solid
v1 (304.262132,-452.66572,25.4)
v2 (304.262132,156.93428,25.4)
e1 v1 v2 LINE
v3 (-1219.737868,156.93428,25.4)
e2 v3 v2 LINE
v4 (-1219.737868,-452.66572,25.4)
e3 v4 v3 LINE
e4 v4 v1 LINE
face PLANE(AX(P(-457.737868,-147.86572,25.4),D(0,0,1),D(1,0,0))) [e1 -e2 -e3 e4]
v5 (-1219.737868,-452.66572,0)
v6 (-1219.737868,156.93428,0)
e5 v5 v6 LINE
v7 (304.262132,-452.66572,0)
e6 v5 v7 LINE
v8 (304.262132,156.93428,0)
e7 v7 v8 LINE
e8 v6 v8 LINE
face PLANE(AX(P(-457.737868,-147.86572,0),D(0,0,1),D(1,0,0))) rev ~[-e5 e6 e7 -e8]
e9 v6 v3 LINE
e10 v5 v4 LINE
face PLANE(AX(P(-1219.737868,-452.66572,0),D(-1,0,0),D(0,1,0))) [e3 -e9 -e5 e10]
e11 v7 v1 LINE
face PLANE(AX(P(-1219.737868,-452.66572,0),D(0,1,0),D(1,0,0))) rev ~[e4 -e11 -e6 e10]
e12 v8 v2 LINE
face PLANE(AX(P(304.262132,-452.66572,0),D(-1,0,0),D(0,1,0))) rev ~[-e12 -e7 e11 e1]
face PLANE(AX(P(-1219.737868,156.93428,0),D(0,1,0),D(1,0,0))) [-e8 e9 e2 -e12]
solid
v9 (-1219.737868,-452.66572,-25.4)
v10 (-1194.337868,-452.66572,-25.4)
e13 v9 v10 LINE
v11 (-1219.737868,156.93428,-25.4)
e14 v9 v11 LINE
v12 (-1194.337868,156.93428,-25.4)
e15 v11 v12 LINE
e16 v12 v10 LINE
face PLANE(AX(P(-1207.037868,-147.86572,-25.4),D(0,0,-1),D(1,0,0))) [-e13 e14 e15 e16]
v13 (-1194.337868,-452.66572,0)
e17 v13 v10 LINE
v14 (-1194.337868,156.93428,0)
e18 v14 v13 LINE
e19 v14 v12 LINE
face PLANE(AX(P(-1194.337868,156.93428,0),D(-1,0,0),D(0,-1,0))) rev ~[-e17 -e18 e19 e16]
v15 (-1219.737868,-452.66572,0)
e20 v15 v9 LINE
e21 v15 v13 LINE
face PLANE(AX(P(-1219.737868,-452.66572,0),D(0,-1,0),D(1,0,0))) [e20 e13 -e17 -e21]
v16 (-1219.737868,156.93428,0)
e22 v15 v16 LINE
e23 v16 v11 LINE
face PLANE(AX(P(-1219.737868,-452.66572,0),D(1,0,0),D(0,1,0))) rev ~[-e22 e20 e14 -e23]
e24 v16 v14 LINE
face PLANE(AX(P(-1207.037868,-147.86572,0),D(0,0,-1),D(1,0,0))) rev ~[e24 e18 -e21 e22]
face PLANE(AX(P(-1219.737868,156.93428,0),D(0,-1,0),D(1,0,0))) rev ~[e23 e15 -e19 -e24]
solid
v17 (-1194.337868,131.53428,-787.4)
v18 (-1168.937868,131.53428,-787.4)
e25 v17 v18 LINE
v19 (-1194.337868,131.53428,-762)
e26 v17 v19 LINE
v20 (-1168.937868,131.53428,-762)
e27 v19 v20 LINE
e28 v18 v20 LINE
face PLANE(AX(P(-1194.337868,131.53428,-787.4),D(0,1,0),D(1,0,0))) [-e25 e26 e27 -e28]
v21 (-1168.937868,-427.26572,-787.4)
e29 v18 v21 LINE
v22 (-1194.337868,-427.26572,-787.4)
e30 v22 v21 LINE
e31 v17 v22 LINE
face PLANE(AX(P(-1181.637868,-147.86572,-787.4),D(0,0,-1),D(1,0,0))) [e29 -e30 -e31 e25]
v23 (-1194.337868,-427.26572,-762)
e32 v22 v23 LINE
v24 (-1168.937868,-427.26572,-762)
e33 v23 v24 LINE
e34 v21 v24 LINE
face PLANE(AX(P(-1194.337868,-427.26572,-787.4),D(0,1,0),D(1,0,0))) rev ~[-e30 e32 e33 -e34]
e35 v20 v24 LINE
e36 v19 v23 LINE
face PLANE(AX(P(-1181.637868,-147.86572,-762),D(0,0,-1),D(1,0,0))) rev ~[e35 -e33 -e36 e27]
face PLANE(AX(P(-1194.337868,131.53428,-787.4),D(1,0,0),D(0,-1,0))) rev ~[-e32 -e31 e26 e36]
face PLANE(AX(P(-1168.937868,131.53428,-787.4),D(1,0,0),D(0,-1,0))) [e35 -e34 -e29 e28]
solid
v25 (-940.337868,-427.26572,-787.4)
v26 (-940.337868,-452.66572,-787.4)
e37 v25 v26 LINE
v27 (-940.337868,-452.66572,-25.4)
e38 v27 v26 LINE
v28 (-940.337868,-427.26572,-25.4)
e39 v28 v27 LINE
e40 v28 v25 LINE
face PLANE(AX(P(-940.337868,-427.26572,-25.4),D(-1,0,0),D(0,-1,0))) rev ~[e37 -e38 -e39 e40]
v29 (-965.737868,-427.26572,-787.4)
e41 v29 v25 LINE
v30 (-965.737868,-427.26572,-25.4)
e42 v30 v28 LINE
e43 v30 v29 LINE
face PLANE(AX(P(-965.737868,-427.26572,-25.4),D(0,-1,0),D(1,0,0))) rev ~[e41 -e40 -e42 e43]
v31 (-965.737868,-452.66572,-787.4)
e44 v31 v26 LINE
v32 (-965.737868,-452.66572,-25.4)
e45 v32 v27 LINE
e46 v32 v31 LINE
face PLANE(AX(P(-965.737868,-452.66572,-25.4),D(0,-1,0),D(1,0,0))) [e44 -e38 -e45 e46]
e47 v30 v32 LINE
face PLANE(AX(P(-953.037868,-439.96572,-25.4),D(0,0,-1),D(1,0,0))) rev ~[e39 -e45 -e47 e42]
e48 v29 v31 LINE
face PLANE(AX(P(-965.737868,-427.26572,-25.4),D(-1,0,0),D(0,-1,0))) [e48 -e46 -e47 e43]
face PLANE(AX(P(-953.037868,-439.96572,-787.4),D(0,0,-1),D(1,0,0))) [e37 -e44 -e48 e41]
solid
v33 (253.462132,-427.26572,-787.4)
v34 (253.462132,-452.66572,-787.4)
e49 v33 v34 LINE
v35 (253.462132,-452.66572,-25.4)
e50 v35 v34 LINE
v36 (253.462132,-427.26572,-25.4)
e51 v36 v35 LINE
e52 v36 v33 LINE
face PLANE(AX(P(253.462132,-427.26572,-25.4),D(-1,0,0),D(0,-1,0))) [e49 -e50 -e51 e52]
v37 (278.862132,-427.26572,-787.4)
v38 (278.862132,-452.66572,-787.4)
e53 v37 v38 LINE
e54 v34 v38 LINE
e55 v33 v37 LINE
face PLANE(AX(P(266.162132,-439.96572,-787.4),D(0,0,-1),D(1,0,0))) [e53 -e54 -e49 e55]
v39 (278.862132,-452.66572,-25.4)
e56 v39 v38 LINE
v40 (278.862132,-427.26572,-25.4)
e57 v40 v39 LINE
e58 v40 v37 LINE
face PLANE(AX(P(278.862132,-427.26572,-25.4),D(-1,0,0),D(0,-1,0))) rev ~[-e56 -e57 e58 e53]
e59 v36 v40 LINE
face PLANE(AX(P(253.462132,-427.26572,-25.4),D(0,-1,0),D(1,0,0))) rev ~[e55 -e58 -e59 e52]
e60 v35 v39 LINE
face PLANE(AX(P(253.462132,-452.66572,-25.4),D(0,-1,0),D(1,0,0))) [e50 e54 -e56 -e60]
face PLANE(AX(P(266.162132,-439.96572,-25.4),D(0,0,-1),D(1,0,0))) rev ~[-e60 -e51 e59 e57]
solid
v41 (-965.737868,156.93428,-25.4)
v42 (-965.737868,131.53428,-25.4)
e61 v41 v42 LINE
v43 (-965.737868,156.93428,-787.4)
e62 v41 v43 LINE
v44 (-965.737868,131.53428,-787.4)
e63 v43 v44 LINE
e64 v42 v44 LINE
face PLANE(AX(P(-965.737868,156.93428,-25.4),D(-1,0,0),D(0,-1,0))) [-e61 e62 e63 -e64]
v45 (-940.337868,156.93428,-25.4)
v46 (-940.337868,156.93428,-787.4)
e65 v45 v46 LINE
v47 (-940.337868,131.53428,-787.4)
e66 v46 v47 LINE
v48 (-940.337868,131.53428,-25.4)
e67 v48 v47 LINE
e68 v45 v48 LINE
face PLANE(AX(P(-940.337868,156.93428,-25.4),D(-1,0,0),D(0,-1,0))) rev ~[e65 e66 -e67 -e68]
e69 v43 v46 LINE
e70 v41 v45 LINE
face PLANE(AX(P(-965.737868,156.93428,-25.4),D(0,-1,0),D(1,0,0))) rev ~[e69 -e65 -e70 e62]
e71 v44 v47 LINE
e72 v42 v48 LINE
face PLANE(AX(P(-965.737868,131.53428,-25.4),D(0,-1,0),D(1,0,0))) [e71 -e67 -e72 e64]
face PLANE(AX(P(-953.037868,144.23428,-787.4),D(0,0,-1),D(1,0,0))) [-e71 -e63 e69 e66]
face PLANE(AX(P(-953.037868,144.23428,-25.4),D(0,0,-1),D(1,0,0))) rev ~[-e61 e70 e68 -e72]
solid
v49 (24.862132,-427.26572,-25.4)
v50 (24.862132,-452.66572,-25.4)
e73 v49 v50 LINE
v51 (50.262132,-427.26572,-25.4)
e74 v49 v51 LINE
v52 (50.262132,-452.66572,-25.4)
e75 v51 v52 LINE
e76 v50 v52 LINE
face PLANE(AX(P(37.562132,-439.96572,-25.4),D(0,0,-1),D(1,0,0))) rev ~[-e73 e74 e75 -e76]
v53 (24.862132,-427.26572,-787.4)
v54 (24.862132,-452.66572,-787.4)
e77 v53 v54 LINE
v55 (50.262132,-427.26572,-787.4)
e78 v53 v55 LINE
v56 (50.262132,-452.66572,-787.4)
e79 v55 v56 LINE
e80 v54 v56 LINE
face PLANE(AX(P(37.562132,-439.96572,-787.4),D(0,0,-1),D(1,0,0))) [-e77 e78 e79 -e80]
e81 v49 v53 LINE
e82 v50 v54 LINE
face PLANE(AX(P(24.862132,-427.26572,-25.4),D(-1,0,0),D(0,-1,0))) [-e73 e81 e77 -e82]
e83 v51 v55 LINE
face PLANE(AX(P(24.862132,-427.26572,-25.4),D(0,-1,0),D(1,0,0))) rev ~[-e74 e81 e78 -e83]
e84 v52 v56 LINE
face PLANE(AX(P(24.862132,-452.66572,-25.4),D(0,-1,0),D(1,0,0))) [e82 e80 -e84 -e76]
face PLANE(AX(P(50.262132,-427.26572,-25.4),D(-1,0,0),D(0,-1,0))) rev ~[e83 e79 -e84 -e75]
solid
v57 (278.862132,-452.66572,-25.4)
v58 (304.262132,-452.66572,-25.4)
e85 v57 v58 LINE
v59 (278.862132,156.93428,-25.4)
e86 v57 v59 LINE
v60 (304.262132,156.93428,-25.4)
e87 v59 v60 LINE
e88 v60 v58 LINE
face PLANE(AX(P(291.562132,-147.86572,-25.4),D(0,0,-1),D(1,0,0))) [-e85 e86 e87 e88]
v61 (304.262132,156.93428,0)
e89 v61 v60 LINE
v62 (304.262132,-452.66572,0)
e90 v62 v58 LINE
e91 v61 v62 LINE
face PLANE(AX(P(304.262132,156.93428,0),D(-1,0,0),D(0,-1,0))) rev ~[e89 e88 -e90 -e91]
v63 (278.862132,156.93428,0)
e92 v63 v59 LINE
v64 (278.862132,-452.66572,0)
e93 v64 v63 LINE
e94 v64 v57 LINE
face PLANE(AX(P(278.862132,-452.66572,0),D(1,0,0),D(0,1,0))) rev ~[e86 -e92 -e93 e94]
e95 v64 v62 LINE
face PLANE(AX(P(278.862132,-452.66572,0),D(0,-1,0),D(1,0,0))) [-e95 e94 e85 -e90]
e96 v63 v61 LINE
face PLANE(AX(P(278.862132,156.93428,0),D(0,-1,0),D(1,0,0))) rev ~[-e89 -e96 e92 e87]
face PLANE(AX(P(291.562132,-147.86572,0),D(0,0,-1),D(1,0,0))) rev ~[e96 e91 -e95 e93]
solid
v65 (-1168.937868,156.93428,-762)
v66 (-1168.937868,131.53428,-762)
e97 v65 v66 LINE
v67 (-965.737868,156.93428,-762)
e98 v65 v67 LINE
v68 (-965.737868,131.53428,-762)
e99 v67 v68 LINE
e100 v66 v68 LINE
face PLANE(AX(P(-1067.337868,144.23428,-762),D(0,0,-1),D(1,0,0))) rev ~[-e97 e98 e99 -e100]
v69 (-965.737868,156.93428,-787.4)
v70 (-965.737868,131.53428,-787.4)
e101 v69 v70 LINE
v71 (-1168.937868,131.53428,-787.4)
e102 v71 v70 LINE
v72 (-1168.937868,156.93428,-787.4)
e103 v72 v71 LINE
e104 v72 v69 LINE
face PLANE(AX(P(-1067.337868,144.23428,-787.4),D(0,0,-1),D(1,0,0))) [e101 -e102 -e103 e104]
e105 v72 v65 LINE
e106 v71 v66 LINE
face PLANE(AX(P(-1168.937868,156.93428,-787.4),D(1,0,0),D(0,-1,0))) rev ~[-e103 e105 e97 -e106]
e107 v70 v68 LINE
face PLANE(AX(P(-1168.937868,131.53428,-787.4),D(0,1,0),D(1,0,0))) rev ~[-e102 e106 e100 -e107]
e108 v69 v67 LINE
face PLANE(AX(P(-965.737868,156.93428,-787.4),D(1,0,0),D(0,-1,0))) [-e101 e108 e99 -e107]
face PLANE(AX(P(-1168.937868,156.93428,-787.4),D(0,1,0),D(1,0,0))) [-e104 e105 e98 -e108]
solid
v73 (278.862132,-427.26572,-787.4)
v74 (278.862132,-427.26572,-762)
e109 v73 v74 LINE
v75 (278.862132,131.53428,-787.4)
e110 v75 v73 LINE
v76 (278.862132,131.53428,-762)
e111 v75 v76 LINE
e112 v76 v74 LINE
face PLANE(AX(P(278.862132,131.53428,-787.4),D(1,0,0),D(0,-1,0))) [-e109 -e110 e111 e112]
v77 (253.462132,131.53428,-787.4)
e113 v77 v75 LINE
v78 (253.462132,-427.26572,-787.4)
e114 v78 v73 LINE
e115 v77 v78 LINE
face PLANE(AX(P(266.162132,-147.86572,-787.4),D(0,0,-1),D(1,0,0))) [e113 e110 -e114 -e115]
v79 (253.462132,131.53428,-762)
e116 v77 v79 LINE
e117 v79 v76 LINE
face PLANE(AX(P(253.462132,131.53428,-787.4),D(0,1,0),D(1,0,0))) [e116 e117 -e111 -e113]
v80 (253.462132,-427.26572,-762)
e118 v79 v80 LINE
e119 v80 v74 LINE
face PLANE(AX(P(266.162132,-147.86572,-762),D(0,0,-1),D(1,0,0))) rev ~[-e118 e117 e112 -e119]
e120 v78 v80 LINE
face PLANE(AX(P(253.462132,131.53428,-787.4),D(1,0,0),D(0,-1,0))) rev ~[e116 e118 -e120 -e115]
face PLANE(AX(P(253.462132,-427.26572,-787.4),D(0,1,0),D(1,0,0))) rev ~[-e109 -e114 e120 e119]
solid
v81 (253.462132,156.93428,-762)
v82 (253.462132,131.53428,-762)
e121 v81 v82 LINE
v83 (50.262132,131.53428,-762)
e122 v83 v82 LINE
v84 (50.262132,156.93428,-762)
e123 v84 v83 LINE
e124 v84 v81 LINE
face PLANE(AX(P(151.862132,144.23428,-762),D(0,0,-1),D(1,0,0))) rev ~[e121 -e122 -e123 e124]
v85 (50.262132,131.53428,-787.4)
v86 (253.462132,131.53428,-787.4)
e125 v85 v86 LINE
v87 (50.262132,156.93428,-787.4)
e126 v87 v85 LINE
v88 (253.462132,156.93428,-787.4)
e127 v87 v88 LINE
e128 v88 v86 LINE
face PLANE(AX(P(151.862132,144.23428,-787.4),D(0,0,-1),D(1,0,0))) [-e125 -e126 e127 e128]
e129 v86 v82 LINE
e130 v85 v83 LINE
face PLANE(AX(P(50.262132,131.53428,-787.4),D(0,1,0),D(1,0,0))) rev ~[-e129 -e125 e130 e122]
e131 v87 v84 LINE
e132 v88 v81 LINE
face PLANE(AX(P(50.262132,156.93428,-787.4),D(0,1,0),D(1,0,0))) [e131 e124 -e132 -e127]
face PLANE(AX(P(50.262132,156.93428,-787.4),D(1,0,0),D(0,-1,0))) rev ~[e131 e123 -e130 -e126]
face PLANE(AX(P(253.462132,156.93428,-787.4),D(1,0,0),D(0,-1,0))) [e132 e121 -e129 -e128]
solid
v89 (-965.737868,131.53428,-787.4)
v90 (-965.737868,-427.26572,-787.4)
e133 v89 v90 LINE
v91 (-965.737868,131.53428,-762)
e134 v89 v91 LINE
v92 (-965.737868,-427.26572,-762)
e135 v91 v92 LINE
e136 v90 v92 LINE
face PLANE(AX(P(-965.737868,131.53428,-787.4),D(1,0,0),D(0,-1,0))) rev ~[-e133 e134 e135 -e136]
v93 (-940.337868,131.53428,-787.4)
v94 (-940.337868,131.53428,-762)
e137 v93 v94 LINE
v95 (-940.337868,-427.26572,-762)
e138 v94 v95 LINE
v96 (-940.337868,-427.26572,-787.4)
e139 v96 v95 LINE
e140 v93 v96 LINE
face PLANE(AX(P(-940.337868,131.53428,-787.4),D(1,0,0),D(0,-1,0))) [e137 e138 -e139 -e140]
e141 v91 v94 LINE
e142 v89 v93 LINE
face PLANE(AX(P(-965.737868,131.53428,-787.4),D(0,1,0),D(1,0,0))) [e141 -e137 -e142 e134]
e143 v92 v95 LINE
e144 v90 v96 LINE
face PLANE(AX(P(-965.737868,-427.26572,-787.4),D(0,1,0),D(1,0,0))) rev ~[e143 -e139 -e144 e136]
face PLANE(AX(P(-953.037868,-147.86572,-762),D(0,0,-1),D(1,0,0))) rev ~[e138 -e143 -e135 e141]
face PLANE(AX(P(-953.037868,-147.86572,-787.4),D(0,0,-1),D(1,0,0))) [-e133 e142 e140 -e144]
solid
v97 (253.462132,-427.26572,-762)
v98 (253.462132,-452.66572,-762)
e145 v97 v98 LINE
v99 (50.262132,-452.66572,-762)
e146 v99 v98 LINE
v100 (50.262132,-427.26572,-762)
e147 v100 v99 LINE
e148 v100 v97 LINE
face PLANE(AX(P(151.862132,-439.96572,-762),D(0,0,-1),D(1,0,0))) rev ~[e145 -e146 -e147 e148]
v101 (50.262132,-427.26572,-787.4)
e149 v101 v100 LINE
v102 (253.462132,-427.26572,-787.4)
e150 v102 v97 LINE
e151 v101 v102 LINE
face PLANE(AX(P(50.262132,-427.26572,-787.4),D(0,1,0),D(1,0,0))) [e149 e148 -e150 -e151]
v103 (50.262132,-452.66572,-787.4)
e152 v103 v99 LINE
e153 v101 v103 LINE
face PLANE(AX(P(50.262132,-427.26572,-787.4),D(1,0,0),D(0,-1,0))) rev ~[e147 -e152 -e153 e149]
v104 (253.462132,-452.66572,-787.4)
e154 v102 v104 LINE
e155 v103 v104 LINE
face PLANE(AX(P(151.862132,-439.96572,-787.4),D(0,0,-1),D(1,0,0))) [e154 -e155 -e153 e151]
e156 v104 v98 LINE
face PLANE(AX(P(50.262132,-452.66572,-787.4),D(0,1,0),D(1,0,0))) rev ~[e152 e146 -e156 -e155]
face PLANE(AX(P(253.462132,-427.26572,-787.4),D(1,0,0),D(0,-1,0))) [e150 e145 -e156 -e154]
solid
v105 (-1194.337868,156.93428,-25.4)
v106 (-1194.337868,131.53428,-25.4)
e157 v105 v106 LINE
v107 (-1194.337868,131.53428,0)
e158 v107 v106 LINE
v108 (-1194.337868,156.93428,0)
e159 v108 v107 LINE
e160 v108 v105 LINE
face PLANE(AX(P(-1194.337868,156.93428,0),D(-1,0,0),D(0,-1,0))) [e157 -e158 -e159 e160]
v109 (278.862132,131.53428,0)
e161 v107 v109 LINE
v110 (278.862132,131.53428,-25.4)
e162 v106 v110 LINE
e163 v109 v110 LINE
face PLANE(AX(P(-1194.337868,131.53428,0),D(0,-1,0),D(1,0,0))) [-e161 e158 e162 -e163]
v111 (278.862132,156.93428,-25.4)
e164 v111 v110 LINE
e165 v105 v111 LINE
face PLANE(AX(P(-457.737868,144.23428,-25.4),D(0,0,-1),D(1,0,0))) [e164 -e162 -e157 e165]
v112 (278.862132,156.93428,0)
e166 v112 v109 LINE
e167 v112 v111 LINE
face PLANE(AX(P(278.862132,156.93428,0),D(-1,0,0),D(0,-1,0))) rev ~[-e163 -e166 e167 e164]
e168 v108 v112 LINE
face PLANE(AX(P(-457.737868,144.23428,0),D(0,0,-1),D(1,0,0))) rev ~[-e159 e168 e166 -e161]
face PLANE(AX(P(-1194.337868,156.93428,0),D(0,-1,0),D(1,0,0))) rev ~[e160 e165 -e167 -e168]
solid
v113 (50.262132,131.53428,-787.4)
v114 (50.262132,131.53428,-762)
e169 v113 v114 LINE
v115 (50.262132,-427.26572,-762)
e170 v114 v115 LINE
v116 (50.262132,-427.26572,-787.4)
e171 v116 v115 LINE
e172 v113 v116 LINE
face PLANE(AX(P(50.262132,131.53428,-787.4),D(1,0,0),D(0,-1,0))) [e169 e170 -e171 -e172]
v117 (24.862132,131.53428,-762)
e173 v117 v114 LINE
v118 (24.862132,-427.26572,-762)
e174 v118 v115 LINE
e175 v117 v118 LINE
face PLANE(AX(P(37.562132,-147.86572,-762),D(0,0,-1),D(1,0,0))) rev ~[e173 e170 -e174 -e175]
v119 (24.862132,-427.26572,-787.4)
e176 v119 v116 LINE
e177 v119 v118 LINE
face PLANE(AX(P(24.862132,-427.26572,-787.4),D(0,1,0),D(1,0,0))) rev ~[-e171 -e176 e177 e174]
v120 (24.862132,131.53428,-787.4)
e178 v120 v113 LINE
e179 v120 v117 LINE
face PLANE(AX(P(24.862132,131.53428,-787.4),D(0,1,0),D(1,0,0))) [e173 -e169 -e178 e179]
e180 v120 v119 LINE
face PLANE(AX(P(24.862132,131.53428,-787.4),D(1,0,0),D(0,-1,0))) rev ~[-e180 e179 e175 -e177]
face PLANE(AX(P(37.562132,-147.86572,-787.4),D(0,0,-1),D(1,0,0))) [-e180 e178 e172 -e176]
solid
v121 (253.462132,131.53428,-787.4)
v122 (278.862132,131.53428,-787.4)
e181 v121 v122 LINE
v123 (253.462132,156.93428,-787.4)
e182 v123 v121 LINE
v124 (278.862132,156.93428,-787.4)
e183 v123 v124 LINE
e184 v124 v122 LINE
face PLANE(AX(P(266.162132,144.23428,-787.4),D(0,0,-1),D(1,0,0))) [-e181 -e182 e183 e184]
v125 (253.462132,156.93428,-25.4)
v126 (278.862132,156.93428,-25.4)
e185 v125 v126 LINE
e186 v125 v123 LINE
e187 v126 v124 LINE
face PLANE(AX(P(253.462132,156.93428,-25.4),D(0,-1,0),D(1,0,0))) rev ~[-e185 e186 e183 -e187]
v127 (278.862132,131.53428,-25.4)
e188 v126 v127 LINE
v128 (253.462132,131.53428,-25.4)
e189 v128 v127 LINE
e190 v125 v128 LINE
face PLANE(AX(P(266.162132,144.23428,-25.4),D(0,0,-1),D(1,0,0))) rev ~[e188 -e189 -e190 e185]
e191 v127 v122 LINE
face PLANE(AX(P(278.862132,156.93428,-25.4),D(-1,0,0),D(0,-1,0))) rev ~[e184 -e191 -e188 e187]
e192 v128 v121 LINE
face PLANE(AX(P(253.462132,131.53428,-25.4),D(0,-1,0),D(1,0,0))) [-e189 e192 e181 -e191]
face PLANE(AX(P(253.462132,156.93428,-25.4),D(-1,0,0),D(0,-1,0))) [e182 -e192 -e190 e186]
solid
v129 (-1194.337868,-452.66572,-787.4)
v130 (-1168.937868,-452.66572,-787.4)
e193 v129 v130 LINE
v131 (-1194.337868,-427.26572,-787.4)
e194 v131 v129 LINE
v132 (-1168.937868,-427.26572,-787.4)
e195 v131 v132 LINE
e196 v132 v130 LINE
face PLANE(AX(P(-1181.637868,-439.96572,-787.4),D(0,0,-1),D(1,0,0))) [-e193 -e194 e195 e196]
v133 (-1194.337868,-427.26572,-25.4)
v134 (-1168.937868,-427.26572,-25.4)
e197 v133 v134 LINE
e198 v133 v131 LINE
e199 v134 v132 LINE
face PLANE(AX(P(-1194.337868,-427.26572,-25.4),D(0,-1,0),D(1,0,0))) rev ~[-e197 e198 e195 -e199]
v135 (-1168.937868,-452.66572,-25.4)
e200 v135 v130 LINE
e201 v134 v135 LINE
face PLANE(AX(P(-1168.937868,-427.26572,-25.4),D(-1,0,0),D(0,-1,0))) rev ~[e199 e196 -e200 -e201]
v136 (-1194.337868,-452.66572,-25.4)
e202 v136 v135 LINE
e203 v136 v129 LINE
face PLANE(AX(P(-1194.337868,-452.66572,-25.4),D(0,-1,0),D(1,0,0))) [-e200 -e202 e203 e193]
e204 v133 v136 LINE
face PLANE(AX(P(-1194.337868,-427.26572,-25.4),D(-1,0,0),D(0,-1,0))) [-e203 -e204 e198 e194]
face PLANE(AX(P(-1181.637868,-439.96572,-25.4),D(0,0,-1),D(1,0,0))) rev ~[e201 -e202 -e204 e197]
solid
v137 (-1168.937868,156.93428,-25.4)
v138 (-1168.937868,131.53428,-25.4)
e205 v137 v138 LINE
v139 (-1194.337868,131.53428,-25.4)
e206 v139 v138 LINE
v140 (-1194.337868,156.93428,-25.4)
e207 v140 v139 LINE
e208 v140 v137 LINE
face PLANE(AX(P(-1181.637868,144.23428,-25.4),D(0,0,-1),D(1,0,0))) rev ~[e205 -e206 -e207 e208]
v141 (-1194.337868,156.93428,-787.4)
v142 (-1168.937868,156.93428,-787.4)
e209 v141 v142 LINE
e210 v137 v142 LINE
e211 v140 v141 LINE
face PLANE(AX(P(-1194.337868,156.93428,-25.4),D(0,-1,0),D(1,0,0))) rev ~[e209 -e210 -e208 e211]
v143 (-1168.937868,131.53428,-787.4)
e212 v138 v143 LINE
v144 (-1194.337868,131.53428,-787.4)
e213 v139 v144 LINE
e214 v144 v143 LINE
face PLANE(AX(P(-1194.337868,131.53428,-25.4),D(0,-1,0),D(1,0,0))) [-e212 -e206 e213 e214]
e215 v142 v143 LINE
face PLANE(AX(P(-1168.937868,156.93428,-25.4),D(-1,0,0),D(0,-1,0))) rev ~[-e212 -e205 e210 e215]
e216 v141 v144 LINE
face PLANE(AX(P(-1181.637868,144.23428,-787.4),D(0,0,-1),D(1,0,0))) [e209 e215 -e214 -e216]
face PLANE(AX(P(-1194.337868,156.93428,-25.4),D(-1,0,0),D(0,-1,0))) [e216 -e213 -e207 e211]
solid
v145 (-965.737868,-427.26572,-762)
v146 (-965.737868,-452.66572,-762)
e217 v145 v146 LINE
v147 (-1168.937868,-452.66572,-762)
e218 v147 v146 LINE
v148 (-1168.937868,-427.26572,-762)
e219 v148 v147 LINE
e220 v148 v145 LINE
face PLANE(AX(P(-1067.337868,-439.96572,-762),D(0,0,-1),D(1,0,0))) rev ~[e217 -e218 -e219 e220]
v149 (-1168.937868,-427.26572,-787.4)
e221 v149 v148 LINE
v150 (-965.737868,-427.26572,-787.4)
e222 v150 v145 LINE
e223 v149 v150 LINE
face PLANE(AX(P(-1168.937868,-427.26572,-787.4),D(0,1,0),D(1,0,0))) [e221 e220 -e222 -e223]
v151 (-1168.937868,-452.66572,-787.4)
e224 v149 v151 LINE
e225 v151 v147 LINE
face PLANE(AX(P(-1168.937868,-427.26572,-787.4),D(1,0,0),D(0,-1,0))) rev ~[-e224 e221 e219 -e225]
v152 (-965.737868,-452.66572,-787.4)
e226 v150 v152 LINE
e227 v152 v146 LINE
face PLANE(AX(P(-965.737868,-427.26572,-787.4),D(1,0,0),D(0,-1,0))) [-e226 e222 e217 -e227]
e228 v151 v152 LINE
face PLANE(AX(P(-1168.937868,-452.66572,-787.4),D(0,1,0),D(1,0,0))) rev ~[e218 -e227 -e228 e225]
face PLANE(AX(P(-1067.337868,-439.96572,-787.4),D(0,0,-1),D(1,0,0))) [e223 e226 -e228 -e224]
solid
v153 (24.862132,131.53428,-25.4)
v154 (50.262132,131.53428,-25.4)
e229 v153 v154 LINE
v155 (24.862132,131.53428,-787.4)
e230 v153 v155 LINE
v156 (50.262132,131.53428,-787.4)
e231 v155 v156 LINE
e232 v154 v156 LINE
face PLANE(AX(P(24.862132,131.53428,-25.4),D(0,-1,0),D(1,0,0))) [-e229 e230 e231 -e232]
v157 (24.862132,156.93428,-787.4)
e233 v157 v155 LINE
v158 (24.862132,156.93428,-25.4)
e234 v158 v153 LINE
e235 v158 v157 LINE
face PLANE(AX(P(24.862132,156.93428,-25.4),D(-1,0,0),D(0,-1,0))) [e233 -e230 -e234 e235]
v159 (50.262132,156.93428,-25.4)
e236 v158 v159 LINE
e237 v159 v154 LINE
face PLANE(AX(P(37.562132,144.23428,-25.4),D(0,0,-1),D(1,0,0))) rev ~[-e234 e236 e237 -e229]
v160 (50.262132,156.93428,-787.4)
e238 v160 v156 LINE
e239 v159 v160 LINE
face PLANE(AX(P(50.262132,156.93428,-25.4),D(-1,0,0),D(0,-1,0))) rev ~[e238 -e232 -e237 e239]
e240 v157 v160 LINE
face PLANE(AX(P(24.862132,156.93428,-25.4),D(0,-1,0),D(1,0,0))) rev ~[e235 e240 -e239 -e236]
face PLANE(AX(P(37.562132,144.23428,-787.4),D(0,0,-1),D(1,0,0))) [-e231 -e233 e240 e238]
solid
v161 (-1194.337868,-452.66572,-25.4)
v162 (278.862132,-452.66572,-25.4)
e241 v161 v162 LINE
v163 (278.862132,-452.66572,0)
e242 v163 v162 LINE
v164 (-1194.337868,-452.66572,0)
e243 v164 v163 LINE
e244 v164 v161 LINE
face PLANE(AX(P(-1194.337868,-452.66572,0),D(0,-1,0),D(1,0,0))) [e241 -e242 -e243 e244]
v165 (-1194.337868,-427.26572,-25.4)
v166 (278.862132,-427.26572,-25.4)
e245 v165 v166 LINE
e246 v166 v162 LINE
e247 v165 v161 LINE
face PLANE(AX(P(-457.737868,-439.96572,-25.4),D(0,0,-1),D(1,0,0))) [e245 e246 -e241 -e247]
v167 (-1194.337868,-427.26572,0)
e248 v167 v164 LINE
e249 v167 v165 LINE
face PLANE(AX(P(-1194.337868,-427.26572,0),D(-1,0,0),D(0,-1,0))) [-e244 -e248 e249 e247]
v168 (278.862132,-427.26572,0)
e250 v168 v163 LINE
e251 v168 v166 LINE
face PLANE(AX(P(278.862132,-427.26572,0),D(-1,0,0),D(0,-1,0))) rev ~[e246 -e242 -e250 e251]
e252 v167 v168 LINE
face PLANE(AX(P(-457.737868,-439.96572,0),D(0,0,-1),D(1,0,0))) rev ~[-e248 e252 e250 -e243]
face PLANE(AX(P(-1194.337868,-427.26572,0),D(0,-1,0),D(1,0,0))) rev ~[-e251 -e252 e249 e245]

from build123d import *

# Parameters (mm, degrees)
F0_W     = 1524
F0_H     = 609.6
F1_DEPTH = 25.4
F2_W     = 1473.2
F2_H     = 25.4
F3_DEPTH = 25.4
F2_W_2   = 25.4
F2_H_2   = 558.8
F4_DEPTH = 25.4
F5_W     = 25.4
F5_H     = 25.4
F6_DEPTH = 762
F7_W     = 25.4
F7_H     = 558.8
F7_W_2   = 203.2
F7_H_2   = 25.4
F8_DEPTH = 25.4


with BuildPart() as f1:
    # F0 (on Top) → F1 (new body)
    with BuildSketch(Plane.XY):
        with Locations((-457.737868, -147.86572)):
            Rectangle(F0_W, F0_H)
    extrude(amount=F1_DEPTH)


with BuildPart() as f3:
    # F2 (on face) → F3 (new body)
    with BuildSketch(Plane(origin=(0, 0, 0), x_dir=(1, 0, 0), z_dir=(0, 0, -1))):
        with Locations((-457.737868, -144.23428)):
            Rectangle(F2_W, F2_H)
        with Locations((-457.737868, 439.96572)):
            Rectangle(F2_W, F2_H)
    extrude(amount=F3_DEPTH)


with BuildPart() as f4:
    # F2 (on face) → F4 (new body)
    with BuildSketch(Plane(origin=(0, 0, 0), x_dir=(1, 0, 0), z_dir=(0, 0, -1))):
        with Locations((-1207.037868, 147.86572)):
            Rectangle(F2_W_2, F2_H_2)
        with Locations((291.562132, 147.86572)):
            Rectangle(F2_W_2, F2_H_2)
        with Locations((-1207.037868, 439.96572)):
            Rectangle(F2_W_2, F2_H)
        with Locations((-1207.037868, -144.23428)):
            Rectangle(F2_W_2, F2_H)
        with Locations((291.562132, -144.23428)):
            Rectangle(F2_W_2, F2_H)
        with Locations((291.562132, 439.96572)):
            Rectangle(F2_W_2, F2_H)
    extrude(amount=F4_DEPTH)


with BuildPart() as f6:
    # F5 (on face) → F6 (new body)
    with BuildSketch(Plane(origin=(0, 0, -25.4), x_dir=(1, 0, 0), z_dir=(0, 0, -1))):
        with Locations((-1181.637868, 439.96572)):
            Rectangle(F5_W, F5_H)
        with Locations((-1181.637868, -144.23428)):
            Rectangle(F5_W, F5_H)
        with Locations((266.162132, 439.96572)):
            Rectangle(F5_W, F5_H)
        with Locations((266.162132, -144.23428)):
            Rectangle(F5_W, F5_H)
        with Locations((-953.037868, 439.96572)):
            Rectangle(F5_W, F5_H)
        with Locations((-953.037868, -144.23428)):
            Rectangle(F5_W, F5_H)
        with Locations((37.562132, 439.96572)):
            Rectangle(F5_W, F5_H)
        with Locations((37.562132, -144.23428)):
            Rectangle(F5_W, F5_H)
    extrude(amount=F6_DEPTH)


with BuildPart() as f8:
    # F7 (on face) → F8 (new body)
    with BuildSketch(Plane(origin=(0, 0, -787.4), x_dir=(1, 0, 0), z_dir=(0, 0, -1))):
        with Locations((-1181.637868, 147.86572)):
            Rectangle(F7_W, F7_H)
        with Locations((-1067.337868, 439.96572)):
            Rectangle(F7_W_2, F7_H_2)
        with Locations((-953.037868, 147.86572)):
            Rectangle(F7_W, F7_H)
        with Locations((-1067.337868, -144.23428)):
            Rectangle(F7_W_2, F7_H_2)
        with Locations((37.562132, 147.86572)):
            Rectangle(F7_W, F7_H)
        with Locations((151.862132, 439.96572)):
            Rectangle(F7_W_2, F7_H_2)
        with Locations((151.862132, -144.23428)):
            Rectangle(F7_W_2, F7_H_2)
        with Locations((266.162132, 147.86572)):
            Rectangle(F7_W, F7_H)
    extrude(amount=-F8_DEPTH)


solid = Compound([f1.part, f3.part, f4.part, f6.part, f8.part])
